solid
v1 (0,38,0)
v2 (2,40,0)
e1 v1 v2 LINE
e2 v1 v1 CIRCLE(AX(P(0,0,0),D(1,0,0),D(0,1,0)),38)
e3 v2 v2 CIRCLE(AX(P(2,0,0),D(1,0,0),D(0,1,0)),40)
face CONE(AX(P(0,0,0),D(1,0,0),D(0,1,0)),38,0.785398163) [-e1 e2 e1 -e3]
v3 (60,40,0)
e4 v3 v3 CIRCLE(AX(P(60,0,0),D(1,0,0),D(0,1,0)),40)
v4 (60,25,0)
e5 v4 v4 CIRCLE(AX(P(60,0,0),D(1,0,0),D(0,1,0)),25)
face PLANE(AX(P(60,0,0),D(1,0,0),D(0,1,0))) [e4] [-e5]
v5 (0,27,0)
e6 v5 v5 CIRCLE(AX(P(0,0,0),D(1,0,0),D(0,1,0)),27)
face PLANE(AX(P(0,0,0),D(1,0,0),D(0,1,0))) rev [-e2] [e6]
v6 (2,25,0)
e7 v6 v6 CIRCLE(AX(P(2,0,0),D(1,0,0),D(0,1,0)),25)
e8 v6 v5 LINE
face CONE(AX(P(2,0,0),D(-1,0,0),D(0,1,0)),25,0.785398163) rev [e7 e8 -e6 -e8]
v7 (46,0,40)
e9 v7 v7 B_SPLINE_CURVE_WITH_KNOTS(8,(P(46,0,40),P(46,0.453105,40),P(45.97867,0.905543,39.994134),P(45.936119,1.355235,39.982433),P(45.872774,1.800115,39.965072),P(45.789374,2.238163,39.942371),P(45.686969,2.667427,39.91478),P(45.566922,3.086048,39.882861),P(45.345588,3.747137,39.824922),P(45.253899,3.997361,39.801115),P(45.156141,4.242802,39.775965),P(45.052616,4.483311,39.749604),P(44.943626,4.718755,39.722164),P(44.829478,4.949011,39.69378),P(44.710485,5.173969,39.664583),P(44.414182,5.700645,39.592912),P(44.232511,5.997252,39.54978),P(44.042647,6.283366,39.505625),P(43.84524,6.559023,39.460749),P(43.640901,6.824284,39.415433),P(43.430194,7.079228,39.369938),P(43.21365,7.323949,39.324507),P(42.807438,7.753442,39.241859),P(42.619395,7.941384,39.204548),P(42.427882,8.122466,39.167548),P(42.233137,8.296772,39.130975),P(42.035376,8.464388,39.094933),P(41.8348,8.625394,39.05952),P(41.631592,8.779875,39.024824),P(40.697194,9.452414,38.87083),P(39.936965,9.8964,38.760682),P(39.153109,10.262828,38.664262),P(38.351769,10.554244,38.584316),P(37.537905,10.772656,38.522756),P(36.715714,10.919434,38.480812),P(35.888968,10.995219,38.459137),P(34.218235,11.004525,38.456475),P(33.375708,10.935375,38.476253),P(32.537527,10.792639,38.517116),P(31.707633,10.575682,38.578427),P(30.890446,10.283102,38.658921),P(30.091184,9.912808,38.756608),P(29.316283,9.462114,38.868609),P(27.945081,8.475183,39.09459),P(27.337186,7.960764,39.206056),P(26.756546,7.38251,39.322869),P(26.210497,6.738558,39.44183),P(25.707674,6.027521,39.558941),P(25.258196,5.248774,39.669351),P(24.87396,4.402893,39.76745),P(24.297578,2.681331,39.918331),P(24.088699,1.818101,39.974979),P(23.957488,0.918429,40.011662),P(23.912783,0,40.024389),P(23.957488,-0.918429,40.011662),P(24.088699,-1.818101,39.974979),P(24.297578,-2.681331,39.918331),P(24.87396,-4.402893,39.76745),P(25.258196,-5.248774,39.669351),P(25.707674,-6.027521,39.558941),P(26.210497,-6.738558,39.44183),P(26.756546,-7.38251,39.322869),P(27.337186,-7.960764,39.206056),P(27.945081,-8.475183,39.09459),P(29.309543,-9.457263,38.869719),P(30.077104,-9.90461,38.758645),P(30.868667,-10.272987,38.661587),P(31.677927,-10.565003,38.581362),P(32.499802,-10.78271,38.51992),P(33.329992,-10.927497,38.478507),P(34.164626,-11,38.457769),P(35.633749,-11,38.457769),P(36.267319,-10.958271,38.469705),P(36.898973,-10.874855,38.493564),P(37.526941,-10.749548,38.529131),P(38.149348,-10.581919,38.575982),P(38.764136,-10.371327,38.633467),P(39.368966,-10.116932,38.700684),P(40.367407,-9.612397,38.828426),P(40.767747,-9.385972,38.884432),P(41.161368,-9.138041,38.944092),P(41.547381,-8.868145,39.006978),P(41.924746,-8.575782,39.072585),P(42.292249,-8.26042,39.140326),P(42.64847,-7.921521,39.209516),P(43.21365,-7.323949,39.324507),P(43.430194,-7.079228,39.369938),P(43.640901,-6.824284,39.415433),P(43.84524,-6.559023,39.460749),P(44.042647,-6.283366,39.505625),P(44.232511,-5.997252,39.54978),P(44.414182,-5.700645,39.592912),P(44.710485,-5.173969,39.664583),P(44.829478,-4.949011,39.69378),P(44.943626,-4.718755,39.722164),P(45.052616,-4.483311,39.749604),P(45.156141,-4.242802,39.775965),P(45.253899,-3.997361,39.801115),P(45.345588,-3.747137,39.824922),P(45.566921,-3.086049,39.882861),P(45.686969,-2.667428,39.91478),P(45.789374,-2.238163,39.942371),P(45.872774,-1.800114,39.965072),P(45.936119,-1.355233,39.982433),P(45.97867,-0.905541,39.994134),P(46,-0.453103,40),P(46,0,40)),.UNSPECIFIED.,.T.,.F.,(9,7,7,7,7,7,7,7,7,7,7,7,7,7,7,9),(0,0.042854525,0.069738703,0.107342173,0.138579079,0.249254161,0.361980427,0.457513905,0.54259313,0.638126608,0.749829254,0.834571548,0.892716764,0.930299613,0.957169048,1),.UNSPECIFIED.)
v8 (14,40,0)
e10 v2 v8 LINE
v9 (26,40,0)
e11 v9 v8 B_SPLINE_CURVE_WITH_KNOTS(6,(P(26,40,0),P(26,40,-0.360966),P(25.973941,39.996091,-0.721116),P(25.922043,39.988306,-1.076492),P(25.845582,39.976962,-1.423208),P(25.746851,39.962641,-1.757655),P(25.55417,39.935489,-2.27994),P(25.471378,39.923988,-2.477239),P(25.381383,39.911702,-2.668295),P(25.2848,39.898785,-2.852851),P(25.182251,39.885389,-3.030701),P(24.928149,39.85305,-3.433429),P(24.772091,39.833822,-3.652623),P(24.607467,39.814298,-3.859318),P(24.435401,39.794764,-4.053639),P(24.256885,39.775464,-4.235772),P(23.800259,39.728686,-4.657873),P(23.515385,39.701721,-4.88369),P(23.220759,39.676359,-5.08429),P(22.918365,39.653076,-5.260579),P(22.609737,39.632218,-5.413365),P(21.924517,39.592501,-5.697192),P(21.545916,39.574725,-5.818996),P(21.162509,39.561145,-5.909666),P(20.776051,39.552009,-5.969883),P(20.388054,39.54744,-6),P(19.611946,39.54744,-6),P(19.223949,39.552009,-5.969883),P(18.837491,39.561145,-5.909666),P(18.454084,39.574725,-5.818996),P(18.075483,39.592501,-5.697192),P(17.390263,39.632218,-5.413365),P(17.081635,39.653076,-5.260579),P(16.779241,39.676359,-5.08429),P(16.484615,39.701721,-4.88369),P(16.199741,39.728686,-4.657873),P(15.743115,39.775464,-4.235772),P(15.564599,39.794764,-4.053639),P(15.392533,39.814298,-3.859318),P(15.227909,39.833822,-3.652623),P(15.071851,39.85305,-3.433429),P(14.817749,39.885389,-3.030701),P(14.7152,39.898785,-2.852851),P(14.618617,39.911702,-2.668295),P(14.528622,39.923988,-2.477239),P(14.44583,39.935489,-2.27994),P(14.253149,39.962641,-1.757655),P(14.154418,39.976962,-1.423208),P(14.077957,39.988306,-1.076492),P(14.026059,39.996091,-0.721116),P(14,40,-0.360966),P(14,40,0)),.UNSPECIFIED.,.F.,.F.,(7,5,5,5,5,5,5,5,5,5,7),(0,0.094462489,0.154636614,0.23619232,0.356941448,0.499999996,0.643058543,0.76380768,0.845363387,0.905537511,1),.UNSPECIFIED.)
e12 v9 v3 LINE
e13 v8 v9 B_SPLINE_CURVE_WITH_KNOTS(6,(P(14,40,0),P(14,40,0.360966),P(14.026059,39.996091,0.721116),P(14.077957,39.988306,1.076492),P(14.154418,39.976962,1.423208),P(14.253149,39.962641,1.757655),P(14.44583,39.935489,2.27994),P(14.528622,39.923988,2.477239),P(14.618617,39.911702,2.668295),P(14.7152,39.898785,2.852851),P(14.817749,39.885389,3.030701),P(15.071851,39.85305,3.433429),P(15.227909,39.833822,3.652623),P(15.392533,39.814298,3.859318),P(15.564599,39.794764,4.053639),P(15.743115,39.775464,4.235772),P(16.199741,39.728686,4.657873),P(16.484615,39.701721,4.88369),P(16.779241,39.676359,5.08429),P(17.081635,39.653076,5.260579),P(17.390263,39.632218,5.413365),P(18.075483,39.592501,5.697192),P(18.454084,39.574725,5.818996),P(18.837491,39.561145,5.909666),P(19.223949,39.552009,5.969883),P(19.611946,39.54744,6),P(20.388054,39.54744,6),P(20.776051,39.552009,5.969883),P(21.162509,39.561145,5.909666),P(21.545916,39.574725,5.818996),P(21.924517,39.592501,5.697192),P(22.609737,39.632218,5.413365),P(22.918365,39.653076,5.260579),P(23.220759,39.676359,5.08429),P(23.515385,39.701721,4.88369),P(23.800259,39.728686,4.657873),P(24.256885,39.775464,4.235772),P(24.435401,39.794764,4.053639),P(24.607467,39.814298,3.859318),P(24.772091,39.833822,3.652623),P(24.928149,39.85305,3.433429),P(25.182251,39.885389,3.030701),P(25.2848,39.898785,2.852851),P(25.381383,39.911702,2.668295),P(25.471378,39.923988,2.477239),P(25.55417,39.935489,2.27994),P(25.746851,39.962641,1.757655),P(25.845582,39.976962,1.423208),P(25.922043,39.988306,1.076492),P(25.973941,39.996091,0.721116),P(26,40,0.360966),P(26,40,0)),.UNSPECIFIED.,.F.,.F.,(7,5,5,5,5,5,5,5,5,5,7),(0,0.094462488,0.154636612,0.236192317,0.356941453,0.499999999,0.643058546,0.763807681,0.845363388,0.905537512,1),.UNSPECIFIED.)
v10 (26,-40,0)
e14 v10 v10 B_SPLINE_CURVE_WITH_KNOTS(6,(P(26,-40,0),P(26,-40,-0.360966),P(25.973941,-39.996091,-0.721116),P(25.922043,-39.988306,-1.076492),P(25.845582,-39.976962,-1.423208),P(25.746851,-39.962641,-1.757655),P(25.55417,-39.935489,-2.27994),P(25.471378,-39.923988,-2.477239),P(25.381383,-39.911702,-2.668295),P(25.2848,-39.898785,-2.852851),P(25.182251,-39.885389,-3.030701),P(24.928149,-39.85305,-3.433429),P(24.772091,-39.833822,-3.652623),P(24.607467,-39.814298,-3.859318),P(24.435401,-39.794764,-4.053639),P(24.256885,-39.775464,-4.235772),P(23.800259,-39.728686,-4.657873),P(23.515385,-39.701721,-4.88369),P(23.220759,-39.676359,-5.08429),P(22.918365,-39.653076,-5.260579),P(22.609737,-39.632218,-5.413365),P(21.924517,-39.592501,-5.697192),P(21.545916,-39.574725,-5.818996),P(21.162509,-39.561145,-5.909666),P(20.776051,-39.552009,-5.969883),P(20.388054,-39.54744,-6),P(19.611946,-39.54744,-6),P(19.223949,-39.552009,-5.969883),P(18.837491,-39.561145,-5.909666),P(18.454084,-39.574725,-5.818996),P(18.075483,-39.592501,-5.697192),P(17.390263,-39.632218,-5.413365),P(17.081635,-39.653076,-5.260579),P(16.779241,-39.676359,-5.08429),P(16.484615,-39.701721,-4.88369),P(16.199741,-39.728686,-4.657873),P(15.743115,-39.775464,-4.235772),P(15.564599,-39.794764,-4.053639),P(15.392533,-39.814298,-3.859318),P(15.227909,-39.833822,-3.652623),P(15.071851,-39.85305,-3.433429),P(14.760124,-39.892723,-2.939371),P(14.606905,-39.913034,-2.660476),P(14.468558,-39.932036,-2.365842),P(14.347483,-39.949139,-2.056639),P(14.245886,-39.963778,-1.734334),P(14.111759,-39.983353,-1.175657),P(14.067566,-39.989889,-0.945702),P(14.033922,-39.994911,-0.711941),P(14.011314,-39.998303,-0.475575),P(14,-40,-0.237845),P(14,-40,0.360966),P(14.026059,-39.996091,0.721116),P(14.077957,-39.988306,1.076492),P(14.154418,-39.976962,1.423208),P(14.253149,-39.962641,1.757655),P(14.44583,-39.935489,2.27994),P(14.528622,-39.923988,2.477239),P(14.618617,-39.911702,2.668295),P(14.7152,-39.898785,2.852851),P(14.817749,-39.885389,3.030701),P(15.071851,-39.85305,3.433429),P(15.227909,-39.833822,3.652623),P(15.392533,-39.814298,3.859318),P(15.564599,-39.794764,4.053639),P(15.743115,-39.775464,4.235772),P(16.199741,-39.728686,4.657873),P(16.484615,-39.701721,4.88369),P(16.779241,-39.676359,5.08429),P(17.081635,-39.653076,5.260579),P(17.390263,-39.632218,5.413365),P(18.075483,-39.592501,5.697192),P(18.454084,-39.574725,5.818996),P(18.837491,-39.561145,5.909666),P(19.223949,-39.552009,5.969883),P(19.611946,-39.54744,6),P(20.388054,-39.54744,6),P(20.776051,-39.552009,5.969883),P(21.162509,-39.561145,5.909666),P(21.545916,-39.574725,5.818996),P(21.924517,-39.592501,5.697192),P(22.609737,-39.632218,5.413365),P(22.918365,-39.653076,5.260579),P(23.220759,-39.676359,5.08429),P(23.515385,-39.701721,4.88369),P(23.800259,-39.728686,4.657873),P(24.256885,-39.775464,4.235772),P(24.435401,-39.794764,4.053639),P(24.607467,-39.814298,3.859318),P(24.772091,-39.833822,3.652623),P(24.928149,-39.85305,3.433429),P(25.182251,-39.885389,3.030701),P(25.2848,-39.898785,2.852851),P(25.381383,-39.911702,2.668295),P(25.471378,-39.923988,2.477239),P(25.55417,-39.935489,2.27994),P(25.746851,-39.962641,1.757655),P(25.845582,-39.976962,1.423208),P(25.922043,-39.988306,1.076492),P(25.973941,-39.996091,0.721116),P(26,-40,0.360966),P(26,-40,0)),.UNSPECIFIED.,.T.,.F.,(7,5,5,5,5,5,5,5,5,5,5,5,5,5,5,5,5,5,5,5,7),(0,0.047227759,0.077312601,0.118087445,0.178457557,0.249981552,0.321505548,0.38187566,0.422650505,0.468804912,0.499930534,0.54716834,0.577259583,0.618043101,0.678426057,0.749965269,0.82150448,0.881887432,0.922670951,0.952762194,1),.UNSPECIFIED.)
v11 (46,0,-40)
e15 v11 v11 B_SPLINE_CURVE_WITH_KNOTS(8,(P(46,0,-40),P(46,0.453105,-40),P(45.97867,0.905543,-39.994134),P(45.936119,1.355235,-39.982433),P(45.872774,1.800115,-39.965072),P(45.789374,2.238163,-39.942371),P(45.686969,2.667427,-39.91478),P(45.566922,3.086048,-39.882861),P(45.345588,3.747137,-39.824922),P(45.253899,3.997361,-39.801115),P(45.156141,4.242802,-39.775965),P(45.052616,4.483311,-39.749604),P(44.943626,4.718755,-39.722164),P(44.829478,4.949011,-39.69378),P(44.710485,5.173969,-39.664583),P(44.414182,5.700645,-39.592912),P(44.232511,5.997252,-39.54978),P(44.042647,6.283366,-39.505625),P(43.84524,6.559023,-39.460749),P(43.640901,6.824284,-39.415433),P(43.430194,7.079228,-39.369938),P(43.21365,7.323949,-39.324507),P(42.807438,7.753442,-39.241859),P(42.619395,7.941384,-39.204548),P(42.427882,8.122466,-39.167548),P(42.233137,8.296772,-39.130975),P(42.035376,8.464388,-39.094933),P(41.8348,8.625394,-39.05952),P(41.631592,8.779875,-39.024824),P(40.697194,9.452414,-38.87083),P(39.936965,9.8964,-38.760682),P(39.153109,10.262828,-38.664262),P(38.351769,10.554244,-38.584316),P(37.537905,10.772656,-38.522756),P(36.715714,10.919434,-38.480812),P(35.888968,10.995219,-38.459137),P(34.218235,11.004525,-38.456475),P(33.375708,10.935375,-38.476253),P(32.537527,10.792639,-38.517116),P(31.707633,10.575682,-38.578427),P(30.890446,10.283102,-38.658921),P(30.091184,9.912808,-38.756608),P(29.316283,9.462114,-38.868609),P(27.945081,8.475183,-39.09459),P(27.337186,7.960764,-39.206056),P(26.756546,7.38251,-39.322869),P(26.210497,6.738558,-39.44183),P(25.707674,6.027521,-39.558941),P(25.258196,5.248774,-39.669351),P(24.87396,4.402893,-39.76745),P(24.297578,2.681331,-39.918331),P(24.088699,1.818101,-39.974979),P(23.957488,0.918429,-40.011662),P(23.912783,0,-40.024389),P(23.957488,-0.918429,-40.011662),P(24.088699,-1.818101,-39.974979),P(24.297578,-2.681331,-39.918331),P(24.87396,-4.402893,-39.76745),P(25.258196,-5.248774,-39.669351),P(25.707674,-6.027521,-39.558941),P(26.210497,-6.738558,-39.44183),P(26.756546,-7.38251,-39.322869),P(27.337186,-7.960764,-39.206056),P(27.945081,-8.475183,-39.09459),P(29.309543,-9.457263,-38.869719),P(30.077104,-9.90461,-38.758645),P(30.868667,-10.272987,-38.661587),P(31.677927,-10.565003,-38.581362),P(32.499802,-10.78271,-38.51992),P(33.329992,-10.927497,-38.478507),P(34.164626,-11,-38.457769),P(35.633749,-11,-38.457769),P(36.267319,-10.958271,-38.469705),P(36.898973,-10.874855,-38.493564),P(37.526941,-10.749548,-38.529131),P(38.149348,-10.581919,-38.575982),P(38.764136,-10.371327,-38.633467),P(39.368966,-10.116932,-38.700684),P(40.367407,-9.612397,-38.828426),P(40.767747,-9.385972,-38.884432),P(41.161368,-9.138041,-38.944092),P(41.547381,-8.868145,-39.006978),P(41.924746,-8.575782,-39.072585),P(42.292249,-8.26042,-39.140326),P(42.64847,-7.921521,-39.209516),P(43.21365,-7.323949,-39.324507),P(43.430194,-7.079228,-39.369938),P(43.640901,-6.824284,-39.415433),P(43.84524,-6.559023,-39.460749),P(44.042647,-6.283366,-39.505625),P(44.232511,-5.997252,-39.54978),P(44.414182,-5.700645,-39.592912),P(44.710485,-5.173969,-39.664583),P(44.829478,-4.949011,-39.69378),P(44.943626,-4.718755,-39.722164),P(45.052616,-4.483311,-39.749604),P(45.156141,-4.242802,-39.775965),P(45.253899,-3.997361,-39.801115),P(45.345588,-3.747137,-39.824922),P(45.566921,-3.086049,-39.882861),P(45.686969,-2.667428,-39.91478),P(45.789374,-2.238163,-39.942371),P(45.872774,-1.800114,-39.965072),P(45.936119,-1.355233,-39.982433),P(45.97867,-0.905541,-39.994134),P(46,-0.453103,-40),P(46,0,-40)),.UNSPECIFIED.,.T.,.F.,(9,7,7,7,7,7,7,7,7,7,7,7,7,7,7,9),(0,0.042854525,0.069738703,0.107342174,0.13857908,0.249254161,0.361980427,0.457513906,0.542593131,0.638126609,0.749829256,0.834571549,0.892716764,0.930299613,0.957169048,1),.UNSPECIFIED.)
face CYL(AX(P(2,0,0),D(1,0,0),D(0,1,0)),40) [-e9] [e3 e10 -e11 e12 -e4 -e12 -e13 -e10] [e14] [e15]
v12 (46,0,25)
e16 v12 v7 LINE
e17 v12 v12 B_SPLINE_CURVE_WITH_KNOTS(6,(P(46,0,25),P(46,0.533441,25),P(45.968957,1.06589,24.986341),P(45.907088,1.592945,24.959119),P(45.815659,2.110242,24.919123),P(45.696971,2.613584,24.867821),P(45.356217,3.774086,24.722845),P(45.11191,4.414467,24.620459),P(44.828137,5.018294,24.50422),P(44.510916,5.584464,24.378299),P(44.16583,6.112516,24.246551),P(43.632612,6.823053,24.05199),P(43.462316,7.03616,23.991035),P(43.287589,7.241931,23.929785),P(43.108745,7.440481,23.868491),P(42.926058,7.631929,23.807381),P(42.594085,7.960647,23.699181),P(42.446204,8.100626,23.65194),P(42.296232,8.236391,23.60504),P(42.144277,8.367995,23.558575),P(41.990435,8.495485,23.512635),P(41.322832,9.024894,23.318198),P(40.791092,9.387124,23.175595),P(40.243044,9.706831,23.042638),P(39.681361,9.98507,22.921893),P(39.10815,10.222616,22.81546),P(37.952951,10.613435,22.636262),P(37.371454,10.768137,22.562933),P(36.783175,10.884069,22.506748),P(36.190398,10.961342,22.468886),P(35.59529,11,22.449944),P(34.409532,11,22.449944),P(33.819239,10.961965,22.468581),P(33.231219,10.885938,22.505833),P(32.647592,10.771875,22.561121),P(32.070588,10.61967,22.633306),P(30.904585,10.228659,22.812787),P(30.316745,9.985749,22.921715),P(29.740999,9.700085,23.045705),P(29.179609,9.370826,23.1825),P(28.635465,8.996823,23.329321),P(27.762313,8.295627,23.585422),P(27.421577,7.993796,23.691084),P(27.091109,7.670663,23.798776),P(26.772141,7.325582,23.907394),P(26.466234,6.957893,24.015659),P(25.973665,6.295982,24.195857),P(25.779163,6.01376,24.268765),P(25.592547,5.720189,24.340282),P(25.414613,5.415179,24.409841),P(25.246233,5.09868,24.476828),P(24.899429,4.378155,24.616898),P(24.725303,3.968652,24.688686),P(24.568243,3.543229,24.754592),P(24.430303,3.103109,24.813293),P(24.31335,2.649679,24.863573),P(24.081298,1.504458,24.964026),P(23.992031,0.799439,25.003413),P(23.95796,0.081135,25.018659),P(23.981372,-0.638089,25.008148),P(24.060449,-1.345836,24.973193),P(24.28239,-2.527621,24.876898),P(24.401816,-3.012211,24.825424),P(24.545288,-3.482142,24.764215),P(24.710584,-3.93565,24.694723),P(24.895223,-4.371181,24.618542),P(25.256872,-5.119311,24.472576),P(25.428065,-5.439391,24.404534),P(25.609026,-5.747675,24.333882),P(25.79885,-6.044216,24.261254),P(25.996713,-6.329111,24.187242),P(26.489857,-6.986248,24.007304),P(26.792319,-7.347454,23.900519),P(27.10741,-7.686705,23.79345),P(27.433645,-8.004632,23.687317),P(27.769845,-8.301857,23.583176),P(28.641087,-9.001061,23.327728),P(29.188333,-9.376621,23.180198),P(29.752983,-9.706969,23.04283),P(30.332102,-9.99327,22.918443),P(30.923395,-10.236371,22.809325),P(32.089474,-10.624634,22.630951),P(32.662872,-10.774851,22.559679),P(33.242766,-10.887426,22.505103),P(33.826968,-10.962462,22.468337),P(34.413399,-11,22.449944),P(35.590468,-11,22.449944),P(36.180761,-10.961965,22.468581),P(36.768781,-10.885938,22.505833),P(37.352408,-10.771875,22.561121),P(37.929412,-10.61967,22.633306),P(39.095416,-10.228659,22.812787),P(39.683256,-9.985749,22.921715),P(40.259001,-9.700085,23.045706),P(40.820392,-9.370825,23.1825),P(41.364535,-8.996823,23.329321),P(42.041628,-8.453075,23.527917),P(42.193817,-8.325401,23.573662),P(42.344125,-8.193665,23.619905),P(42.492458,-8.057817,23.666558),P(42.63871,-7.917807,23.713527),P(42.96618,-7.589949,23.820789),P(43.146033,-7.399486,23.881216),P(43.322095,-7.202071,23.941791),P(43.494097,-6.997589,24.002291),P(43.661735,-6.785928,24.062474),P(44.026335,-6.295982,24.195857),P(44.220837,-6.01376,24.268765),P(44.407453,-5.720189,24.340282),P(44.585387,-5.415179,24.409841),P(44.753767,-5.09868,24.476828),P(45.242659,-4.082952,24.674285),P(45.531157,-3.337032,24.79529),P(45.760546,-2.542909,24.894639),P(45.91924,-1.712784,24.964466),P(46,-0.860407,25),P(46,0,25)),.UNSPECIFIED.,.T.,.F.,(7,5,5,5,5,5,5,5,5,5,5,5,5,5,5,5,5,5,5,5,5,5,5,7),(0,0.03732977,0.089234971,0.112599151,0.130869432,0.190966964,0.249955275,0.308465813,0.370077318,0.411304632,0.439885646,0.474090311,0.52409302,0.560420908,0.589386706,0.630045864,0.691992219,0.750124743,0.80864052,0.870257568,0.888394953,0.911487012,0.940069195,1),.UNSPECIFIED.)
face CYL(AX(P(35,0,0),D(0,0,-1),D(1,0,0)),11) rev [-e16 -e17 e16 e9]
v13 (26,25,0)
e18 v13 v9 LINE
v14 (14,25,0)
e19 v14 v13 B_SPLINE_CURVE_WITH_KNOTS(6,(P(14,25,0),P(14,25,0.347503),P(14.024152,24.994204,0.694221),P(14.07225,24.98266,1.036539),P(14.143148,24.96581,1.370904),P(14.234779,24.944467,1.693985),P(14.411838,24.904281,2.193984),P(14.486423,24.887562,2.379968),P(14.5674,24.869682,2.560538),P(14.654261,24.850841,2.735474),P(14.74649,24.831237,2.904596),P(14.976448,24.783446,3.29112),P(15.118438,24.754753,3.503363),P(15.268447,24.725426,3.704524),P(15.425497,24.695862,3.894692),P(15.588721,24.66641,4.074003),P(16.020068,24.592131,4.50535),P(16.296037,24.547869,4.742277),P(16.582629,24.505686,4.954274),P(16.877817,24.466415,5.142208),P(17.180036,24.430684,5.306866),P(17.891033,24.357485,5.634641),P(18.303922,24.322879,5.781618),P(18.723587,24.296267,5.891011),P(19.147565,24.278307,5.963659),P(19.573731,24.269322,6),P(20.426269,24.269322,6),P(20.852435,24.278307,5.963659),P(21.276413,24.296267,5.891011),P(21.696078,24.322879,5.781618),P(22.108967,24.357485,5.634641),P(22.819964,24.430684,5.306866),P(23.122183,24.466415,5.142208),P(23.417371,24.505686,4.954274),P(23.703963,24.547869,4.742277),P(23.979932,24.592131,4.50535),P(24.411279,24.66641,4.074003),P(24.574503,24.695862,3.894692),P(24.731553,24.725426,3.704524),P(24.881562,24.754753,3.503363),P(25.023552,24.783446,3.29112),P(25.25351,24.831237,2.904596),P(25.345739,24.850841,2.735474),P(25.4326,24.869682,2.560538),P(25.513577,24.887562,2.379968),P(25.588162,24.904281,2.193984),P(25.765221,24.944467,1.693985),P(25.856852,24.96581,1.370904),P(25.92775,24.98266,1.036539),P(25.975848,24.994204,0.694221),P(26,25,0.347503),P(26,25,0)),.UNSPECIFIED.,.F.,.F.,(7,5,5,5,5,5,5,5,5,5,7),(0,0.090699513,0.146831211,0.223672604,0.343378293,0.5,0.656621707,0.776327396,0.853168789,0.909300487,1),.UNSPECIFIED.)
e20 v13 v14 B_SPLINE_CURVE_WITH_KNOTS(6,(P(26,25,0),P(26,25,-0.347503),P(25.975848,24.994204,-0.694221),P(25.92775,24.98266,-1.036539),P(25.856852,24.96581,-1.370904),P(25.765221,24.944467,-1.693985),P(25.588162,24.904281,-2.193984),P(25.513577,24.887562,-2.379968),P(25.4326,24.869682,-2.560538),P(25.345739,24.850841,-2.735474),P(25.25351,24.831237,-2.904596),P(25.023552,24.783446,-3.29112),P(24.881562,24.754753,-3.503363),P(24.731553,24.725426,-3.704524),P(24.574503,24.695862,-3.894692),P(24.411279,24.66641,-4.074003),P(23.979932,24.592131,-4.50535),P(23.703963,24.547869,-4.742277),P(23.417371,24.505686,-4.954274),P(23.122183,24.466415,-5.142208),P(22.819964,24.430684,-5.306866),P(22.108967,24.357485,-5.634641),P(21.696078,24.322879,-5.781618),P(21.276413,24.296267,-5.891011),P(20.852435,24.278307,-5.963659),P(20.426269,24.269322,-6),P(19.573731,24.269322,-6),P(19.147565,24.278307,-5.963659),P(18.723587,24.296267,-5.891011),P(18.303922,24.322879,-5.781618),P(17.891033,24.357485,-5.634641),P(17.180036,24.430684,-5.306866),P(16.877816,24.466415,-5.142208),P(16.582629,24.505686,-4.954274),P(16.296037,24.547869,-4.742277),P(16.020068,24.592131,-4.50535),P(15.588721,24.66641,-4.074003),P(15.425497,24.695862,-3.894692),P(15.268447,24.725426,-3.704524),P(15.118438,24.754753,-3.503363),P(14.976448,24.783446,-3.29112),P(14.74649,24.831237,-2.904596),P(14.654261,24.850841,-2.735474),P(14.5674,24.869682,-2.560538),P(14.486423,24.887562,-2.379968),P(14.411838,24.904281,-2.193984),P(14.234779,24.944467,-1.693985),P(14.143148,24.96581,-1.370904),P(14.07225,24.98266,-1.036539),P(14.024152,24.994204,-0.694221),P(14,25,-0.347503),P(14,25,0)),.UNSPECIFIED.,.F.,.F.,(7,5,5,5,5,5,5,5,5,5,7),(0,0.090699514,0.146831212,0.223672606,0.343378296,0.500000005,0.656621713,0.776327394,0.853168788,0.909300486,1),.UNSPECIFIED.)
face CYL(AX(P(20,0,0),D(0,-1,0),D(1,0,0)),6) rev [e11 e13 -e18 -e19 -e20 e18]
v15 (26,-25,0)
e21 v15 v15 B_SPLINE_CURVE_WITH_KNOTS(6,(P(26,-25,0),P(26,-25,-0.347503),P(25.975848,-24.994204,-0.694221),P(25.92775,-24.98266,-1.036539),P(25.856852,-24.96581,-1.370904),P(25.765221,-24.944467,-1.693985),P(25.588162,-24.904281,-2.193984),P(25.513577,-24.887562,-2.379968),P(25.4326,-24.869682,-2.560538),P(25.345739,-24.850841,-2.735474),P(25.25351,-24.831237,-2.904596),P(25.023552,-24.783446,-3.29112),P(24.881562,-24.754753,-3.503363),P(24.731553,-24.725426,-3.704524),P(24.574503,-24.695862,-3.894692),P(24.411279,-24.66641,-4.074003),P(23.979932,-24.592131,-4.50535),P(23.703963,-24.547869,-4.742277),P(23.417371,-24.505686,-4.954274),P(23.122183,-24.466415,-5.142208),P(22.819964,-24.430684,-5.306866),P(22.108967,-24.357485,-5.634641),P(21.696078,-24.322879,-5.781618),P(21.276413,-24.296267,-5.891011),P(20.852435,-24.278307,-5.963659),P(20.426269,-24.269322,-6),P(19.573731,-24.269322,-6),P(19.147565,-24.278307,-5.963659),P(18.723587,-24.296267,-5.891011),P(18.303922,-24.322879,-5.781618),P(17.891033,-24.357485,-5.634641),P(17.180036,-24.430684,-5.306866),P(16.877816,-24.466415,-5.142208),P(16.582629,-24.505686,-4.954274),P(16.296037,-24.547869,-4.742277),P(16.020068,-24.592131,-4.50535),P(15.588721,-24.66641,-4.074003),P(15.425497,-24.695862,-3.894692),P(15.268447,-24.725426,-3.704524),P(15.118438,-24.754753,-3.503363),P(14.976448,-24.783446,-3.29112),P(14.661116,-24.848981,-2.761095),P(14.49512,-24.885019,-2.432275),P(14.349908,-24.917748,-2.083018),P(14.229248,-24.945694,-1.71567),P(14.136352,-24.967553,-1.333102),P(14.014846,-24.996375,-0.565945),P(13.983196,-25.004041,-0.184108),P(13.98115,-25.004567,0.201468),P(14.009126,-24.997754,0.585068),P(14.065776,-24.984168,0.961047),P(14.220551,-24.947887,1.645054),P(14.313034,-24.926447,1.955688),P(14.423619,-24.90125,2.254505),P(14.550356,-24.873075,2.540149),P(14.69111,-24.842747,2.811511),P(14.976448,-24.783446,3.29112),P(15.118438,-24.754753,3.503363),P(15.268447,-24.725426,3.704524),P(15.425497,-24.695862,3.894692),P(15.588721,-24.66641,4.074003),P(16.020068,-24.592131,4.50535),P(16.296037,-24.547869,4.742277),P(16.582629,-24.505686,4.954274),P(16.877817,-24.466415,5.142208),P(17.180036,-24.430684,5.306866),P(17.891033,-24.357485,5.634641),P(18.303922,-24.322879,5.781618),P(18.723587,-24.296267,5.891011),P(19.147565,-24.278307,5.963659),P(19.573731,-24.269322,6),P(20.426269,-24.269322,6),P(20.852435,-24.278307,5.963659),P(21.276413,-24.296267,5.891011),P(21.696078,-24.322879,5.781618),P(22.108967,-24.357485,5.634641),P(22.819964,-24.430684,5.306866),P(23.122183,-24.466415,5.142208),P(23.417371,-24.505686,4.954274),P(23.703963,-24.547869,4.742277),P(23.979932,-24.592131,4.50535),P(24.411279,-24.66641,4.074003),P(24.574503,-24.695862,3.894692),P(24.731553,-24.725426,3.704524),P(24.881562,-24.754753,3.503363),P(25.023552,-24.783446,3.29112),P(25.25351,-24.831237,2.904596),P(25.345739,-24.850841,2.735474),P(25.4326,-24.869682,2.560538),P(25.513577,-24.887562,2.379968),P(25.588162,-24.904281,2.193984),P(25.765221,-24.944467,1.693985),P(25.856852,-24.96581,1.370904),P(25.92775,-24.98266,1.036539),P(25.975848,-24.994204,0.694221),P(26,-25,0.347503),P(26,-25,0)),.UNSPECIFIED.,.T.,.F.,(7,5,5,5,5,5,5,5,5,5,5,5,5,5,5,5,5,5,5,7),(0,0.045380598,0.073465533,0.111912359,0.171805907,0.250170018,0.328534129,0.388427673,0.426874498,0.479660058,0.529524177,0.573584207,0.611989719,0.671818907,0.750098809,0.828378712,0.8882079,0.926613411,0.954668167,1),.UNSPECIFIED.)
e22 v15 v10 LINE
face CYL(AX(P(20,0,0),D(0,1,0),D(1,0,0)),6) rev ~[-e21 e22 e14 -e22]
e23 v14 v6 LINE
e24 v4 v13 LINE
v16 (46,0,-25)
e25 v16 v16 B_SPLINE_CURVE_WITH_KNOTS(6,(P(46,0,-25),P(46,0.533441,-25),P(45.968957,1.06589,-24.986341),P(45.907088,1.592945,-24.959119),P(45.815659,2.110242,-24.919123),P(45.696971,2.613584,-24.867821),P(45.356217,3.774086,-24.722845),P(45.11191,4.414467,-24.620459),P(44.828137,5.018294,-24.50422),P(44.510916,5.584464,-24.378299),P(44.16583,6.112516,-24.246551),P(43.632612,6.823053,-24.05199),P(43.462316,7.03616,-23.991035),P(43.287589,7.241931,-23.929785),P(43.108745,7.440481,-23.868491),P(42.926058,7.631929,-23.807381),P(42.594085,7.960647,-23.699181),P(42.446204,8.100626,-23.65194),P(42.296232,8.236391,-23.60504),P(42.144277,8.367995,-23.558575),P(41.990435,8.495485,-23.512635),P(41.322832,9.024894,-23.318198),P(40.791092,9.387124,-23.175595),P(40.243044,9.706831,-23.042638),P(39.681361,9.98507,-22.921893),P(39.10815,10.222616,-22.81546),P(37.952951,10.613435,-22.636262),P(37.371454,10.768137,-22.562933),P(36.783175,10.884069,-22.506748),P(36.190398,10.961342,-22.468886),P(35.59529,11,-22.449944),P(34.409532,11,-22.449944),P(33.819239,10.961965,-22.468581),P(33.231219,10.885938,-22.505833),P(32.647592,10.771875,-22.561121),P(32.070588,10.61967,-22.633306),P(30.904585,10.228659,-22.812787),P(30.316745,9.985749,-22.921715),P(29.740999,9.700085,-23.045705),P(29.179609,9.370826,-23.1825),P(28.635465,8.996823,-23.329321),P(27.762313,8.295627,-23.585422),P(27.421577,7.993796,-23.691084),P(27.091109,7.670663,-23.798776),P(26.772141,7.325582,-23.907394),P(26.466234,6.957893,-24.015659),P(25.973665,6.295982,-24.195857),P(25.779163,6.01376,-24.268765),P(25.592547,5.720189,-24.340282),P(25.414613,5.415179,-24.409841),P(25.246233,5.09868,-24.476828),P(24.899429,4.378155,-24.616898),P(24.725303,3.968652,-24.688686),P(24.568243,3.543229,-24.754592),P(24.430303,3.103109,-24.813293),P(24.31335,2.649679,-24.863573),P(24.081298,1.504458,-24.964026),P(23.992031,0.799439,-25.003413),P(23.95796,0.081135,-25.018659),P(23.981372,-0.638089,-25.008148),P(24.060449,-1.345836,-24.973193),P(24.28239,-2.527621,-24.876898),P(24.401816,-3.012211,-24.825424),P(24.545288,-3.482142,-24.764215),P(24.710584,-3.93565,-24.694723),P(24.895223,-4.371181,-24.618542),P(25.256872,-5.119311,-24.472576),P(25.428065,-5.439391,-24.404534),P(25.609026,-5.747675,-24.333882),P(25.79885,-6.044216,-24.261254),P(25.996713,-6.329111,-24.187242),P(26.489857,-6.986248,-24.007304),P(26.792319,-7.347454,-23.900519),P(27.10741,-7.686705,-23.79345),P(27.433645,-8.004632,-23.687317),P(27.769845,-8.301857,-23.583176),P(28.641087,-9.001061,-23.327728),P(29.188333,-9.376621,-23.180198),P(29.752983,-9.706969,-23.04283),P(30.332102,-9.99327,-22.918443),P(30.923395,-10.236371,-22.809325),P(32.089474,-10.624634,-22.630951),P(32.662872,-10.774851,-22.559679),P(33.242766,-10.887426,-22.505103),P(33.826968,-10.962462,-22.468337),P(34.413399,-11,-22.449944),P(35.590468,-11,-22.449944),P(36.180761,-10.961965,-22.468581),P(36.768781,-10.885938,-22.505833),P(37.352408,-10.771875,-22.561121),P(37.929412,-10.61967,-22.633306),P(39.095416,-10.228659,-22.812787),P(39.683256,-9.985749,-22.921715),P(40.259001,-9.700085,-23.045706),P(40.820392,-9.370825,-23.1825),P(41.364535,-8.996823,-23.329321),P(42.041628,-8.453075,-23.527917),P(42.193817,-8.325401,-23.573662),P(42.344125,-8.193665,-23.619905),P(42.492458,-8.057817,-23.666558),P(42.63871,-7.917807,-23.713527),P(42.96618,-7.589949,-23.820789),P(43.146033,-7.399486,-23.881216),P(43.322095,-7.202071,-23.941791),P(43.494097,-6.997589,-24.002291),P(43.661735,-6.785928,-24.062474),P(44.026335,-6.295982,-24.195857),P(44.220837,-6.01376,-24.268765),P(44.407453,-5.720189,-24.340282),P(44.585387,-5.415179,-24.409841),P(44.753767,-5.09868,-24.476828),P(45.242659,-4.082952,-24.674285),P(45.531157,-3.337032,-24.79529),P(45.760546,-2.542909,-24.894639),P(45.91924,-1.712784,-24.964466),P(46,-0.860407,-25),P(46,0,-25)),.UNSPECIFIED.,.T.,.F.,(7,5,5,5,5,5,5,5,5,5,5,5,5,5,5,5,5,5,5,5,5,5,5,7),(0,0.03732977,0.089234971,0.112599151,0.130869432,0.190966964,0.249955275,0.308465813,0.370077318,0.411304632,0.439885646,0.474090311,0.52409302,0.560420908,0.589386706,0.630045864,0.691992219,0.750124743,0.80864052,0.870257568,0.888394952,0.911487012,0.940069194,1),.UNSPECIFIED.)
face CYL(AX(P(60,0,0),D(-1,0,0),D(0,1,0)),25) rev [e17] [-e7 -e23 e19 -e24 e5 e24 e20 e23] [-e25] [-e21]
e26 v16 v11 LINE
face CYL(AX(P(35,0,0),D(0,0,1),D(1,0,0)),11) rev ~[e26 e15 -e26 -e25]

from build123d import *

# Parameters (mm, degrees)
SKETCH2_R               = 6
CUT_EXTRUDE1_DEPTH      = 41
CUT_EXTRUDE1_DEPTH_BACK = 41
SKETCH3_R               = 11
CUT_EXTRUDE2_DEPTH      = 41.0000001
CUT_EXTRUDE2_DEPTH_BACK = 41.0000001


with BuildPart() as part:
    # Sketch1 → Revolve1 (revolve)
    with BuildSketch(Plane.XY):
        Polygon((2, 40), (60, 40), (60, 25), (2, 25), (0, 27), (0, 38), align=None)
    revolve(axis=Axis((0, 0, 0), (1, 0, 0)))

    # Sketch2 → Cut-Extrude1 (cut, two sides)
    with BuildSketch(Plane(origin=(0, 0, 0), x_dir=(1, 0, 0), z_dir=(0, 1, 0))) as cut_extrude1_sk:
        with Locations((20, 0)):
            Circle(SKETCH2_R)
    extrude(amount=CUT_EXTRUDE1_DEPTH, mode=Mode.SUBTRACT)
    extrude(cut_extrude1_sk.sketch, amount=-CUT_EXTRUDE1_DEPTH_BACK, mode=Mode.SUBTRACT)

    # Sketch3 → Cut-Extrude2 (cut, two sides)
    with BuildSketch(Plane.XY) as cut_extrude2_sk:
        with Locations((35, 0)):
            Circle(SKETCH3_R)
    extrude(amount=CUT_EXTRUDE2_DEPTH, mode=Mode.SUBTRACT)
    extrude(cut_extrude2_sk.sketch, amount=-CUT_EXTRUDE2_DEPTH_BACK, mode=Mode.SUBTRACT)


solid = part.part
